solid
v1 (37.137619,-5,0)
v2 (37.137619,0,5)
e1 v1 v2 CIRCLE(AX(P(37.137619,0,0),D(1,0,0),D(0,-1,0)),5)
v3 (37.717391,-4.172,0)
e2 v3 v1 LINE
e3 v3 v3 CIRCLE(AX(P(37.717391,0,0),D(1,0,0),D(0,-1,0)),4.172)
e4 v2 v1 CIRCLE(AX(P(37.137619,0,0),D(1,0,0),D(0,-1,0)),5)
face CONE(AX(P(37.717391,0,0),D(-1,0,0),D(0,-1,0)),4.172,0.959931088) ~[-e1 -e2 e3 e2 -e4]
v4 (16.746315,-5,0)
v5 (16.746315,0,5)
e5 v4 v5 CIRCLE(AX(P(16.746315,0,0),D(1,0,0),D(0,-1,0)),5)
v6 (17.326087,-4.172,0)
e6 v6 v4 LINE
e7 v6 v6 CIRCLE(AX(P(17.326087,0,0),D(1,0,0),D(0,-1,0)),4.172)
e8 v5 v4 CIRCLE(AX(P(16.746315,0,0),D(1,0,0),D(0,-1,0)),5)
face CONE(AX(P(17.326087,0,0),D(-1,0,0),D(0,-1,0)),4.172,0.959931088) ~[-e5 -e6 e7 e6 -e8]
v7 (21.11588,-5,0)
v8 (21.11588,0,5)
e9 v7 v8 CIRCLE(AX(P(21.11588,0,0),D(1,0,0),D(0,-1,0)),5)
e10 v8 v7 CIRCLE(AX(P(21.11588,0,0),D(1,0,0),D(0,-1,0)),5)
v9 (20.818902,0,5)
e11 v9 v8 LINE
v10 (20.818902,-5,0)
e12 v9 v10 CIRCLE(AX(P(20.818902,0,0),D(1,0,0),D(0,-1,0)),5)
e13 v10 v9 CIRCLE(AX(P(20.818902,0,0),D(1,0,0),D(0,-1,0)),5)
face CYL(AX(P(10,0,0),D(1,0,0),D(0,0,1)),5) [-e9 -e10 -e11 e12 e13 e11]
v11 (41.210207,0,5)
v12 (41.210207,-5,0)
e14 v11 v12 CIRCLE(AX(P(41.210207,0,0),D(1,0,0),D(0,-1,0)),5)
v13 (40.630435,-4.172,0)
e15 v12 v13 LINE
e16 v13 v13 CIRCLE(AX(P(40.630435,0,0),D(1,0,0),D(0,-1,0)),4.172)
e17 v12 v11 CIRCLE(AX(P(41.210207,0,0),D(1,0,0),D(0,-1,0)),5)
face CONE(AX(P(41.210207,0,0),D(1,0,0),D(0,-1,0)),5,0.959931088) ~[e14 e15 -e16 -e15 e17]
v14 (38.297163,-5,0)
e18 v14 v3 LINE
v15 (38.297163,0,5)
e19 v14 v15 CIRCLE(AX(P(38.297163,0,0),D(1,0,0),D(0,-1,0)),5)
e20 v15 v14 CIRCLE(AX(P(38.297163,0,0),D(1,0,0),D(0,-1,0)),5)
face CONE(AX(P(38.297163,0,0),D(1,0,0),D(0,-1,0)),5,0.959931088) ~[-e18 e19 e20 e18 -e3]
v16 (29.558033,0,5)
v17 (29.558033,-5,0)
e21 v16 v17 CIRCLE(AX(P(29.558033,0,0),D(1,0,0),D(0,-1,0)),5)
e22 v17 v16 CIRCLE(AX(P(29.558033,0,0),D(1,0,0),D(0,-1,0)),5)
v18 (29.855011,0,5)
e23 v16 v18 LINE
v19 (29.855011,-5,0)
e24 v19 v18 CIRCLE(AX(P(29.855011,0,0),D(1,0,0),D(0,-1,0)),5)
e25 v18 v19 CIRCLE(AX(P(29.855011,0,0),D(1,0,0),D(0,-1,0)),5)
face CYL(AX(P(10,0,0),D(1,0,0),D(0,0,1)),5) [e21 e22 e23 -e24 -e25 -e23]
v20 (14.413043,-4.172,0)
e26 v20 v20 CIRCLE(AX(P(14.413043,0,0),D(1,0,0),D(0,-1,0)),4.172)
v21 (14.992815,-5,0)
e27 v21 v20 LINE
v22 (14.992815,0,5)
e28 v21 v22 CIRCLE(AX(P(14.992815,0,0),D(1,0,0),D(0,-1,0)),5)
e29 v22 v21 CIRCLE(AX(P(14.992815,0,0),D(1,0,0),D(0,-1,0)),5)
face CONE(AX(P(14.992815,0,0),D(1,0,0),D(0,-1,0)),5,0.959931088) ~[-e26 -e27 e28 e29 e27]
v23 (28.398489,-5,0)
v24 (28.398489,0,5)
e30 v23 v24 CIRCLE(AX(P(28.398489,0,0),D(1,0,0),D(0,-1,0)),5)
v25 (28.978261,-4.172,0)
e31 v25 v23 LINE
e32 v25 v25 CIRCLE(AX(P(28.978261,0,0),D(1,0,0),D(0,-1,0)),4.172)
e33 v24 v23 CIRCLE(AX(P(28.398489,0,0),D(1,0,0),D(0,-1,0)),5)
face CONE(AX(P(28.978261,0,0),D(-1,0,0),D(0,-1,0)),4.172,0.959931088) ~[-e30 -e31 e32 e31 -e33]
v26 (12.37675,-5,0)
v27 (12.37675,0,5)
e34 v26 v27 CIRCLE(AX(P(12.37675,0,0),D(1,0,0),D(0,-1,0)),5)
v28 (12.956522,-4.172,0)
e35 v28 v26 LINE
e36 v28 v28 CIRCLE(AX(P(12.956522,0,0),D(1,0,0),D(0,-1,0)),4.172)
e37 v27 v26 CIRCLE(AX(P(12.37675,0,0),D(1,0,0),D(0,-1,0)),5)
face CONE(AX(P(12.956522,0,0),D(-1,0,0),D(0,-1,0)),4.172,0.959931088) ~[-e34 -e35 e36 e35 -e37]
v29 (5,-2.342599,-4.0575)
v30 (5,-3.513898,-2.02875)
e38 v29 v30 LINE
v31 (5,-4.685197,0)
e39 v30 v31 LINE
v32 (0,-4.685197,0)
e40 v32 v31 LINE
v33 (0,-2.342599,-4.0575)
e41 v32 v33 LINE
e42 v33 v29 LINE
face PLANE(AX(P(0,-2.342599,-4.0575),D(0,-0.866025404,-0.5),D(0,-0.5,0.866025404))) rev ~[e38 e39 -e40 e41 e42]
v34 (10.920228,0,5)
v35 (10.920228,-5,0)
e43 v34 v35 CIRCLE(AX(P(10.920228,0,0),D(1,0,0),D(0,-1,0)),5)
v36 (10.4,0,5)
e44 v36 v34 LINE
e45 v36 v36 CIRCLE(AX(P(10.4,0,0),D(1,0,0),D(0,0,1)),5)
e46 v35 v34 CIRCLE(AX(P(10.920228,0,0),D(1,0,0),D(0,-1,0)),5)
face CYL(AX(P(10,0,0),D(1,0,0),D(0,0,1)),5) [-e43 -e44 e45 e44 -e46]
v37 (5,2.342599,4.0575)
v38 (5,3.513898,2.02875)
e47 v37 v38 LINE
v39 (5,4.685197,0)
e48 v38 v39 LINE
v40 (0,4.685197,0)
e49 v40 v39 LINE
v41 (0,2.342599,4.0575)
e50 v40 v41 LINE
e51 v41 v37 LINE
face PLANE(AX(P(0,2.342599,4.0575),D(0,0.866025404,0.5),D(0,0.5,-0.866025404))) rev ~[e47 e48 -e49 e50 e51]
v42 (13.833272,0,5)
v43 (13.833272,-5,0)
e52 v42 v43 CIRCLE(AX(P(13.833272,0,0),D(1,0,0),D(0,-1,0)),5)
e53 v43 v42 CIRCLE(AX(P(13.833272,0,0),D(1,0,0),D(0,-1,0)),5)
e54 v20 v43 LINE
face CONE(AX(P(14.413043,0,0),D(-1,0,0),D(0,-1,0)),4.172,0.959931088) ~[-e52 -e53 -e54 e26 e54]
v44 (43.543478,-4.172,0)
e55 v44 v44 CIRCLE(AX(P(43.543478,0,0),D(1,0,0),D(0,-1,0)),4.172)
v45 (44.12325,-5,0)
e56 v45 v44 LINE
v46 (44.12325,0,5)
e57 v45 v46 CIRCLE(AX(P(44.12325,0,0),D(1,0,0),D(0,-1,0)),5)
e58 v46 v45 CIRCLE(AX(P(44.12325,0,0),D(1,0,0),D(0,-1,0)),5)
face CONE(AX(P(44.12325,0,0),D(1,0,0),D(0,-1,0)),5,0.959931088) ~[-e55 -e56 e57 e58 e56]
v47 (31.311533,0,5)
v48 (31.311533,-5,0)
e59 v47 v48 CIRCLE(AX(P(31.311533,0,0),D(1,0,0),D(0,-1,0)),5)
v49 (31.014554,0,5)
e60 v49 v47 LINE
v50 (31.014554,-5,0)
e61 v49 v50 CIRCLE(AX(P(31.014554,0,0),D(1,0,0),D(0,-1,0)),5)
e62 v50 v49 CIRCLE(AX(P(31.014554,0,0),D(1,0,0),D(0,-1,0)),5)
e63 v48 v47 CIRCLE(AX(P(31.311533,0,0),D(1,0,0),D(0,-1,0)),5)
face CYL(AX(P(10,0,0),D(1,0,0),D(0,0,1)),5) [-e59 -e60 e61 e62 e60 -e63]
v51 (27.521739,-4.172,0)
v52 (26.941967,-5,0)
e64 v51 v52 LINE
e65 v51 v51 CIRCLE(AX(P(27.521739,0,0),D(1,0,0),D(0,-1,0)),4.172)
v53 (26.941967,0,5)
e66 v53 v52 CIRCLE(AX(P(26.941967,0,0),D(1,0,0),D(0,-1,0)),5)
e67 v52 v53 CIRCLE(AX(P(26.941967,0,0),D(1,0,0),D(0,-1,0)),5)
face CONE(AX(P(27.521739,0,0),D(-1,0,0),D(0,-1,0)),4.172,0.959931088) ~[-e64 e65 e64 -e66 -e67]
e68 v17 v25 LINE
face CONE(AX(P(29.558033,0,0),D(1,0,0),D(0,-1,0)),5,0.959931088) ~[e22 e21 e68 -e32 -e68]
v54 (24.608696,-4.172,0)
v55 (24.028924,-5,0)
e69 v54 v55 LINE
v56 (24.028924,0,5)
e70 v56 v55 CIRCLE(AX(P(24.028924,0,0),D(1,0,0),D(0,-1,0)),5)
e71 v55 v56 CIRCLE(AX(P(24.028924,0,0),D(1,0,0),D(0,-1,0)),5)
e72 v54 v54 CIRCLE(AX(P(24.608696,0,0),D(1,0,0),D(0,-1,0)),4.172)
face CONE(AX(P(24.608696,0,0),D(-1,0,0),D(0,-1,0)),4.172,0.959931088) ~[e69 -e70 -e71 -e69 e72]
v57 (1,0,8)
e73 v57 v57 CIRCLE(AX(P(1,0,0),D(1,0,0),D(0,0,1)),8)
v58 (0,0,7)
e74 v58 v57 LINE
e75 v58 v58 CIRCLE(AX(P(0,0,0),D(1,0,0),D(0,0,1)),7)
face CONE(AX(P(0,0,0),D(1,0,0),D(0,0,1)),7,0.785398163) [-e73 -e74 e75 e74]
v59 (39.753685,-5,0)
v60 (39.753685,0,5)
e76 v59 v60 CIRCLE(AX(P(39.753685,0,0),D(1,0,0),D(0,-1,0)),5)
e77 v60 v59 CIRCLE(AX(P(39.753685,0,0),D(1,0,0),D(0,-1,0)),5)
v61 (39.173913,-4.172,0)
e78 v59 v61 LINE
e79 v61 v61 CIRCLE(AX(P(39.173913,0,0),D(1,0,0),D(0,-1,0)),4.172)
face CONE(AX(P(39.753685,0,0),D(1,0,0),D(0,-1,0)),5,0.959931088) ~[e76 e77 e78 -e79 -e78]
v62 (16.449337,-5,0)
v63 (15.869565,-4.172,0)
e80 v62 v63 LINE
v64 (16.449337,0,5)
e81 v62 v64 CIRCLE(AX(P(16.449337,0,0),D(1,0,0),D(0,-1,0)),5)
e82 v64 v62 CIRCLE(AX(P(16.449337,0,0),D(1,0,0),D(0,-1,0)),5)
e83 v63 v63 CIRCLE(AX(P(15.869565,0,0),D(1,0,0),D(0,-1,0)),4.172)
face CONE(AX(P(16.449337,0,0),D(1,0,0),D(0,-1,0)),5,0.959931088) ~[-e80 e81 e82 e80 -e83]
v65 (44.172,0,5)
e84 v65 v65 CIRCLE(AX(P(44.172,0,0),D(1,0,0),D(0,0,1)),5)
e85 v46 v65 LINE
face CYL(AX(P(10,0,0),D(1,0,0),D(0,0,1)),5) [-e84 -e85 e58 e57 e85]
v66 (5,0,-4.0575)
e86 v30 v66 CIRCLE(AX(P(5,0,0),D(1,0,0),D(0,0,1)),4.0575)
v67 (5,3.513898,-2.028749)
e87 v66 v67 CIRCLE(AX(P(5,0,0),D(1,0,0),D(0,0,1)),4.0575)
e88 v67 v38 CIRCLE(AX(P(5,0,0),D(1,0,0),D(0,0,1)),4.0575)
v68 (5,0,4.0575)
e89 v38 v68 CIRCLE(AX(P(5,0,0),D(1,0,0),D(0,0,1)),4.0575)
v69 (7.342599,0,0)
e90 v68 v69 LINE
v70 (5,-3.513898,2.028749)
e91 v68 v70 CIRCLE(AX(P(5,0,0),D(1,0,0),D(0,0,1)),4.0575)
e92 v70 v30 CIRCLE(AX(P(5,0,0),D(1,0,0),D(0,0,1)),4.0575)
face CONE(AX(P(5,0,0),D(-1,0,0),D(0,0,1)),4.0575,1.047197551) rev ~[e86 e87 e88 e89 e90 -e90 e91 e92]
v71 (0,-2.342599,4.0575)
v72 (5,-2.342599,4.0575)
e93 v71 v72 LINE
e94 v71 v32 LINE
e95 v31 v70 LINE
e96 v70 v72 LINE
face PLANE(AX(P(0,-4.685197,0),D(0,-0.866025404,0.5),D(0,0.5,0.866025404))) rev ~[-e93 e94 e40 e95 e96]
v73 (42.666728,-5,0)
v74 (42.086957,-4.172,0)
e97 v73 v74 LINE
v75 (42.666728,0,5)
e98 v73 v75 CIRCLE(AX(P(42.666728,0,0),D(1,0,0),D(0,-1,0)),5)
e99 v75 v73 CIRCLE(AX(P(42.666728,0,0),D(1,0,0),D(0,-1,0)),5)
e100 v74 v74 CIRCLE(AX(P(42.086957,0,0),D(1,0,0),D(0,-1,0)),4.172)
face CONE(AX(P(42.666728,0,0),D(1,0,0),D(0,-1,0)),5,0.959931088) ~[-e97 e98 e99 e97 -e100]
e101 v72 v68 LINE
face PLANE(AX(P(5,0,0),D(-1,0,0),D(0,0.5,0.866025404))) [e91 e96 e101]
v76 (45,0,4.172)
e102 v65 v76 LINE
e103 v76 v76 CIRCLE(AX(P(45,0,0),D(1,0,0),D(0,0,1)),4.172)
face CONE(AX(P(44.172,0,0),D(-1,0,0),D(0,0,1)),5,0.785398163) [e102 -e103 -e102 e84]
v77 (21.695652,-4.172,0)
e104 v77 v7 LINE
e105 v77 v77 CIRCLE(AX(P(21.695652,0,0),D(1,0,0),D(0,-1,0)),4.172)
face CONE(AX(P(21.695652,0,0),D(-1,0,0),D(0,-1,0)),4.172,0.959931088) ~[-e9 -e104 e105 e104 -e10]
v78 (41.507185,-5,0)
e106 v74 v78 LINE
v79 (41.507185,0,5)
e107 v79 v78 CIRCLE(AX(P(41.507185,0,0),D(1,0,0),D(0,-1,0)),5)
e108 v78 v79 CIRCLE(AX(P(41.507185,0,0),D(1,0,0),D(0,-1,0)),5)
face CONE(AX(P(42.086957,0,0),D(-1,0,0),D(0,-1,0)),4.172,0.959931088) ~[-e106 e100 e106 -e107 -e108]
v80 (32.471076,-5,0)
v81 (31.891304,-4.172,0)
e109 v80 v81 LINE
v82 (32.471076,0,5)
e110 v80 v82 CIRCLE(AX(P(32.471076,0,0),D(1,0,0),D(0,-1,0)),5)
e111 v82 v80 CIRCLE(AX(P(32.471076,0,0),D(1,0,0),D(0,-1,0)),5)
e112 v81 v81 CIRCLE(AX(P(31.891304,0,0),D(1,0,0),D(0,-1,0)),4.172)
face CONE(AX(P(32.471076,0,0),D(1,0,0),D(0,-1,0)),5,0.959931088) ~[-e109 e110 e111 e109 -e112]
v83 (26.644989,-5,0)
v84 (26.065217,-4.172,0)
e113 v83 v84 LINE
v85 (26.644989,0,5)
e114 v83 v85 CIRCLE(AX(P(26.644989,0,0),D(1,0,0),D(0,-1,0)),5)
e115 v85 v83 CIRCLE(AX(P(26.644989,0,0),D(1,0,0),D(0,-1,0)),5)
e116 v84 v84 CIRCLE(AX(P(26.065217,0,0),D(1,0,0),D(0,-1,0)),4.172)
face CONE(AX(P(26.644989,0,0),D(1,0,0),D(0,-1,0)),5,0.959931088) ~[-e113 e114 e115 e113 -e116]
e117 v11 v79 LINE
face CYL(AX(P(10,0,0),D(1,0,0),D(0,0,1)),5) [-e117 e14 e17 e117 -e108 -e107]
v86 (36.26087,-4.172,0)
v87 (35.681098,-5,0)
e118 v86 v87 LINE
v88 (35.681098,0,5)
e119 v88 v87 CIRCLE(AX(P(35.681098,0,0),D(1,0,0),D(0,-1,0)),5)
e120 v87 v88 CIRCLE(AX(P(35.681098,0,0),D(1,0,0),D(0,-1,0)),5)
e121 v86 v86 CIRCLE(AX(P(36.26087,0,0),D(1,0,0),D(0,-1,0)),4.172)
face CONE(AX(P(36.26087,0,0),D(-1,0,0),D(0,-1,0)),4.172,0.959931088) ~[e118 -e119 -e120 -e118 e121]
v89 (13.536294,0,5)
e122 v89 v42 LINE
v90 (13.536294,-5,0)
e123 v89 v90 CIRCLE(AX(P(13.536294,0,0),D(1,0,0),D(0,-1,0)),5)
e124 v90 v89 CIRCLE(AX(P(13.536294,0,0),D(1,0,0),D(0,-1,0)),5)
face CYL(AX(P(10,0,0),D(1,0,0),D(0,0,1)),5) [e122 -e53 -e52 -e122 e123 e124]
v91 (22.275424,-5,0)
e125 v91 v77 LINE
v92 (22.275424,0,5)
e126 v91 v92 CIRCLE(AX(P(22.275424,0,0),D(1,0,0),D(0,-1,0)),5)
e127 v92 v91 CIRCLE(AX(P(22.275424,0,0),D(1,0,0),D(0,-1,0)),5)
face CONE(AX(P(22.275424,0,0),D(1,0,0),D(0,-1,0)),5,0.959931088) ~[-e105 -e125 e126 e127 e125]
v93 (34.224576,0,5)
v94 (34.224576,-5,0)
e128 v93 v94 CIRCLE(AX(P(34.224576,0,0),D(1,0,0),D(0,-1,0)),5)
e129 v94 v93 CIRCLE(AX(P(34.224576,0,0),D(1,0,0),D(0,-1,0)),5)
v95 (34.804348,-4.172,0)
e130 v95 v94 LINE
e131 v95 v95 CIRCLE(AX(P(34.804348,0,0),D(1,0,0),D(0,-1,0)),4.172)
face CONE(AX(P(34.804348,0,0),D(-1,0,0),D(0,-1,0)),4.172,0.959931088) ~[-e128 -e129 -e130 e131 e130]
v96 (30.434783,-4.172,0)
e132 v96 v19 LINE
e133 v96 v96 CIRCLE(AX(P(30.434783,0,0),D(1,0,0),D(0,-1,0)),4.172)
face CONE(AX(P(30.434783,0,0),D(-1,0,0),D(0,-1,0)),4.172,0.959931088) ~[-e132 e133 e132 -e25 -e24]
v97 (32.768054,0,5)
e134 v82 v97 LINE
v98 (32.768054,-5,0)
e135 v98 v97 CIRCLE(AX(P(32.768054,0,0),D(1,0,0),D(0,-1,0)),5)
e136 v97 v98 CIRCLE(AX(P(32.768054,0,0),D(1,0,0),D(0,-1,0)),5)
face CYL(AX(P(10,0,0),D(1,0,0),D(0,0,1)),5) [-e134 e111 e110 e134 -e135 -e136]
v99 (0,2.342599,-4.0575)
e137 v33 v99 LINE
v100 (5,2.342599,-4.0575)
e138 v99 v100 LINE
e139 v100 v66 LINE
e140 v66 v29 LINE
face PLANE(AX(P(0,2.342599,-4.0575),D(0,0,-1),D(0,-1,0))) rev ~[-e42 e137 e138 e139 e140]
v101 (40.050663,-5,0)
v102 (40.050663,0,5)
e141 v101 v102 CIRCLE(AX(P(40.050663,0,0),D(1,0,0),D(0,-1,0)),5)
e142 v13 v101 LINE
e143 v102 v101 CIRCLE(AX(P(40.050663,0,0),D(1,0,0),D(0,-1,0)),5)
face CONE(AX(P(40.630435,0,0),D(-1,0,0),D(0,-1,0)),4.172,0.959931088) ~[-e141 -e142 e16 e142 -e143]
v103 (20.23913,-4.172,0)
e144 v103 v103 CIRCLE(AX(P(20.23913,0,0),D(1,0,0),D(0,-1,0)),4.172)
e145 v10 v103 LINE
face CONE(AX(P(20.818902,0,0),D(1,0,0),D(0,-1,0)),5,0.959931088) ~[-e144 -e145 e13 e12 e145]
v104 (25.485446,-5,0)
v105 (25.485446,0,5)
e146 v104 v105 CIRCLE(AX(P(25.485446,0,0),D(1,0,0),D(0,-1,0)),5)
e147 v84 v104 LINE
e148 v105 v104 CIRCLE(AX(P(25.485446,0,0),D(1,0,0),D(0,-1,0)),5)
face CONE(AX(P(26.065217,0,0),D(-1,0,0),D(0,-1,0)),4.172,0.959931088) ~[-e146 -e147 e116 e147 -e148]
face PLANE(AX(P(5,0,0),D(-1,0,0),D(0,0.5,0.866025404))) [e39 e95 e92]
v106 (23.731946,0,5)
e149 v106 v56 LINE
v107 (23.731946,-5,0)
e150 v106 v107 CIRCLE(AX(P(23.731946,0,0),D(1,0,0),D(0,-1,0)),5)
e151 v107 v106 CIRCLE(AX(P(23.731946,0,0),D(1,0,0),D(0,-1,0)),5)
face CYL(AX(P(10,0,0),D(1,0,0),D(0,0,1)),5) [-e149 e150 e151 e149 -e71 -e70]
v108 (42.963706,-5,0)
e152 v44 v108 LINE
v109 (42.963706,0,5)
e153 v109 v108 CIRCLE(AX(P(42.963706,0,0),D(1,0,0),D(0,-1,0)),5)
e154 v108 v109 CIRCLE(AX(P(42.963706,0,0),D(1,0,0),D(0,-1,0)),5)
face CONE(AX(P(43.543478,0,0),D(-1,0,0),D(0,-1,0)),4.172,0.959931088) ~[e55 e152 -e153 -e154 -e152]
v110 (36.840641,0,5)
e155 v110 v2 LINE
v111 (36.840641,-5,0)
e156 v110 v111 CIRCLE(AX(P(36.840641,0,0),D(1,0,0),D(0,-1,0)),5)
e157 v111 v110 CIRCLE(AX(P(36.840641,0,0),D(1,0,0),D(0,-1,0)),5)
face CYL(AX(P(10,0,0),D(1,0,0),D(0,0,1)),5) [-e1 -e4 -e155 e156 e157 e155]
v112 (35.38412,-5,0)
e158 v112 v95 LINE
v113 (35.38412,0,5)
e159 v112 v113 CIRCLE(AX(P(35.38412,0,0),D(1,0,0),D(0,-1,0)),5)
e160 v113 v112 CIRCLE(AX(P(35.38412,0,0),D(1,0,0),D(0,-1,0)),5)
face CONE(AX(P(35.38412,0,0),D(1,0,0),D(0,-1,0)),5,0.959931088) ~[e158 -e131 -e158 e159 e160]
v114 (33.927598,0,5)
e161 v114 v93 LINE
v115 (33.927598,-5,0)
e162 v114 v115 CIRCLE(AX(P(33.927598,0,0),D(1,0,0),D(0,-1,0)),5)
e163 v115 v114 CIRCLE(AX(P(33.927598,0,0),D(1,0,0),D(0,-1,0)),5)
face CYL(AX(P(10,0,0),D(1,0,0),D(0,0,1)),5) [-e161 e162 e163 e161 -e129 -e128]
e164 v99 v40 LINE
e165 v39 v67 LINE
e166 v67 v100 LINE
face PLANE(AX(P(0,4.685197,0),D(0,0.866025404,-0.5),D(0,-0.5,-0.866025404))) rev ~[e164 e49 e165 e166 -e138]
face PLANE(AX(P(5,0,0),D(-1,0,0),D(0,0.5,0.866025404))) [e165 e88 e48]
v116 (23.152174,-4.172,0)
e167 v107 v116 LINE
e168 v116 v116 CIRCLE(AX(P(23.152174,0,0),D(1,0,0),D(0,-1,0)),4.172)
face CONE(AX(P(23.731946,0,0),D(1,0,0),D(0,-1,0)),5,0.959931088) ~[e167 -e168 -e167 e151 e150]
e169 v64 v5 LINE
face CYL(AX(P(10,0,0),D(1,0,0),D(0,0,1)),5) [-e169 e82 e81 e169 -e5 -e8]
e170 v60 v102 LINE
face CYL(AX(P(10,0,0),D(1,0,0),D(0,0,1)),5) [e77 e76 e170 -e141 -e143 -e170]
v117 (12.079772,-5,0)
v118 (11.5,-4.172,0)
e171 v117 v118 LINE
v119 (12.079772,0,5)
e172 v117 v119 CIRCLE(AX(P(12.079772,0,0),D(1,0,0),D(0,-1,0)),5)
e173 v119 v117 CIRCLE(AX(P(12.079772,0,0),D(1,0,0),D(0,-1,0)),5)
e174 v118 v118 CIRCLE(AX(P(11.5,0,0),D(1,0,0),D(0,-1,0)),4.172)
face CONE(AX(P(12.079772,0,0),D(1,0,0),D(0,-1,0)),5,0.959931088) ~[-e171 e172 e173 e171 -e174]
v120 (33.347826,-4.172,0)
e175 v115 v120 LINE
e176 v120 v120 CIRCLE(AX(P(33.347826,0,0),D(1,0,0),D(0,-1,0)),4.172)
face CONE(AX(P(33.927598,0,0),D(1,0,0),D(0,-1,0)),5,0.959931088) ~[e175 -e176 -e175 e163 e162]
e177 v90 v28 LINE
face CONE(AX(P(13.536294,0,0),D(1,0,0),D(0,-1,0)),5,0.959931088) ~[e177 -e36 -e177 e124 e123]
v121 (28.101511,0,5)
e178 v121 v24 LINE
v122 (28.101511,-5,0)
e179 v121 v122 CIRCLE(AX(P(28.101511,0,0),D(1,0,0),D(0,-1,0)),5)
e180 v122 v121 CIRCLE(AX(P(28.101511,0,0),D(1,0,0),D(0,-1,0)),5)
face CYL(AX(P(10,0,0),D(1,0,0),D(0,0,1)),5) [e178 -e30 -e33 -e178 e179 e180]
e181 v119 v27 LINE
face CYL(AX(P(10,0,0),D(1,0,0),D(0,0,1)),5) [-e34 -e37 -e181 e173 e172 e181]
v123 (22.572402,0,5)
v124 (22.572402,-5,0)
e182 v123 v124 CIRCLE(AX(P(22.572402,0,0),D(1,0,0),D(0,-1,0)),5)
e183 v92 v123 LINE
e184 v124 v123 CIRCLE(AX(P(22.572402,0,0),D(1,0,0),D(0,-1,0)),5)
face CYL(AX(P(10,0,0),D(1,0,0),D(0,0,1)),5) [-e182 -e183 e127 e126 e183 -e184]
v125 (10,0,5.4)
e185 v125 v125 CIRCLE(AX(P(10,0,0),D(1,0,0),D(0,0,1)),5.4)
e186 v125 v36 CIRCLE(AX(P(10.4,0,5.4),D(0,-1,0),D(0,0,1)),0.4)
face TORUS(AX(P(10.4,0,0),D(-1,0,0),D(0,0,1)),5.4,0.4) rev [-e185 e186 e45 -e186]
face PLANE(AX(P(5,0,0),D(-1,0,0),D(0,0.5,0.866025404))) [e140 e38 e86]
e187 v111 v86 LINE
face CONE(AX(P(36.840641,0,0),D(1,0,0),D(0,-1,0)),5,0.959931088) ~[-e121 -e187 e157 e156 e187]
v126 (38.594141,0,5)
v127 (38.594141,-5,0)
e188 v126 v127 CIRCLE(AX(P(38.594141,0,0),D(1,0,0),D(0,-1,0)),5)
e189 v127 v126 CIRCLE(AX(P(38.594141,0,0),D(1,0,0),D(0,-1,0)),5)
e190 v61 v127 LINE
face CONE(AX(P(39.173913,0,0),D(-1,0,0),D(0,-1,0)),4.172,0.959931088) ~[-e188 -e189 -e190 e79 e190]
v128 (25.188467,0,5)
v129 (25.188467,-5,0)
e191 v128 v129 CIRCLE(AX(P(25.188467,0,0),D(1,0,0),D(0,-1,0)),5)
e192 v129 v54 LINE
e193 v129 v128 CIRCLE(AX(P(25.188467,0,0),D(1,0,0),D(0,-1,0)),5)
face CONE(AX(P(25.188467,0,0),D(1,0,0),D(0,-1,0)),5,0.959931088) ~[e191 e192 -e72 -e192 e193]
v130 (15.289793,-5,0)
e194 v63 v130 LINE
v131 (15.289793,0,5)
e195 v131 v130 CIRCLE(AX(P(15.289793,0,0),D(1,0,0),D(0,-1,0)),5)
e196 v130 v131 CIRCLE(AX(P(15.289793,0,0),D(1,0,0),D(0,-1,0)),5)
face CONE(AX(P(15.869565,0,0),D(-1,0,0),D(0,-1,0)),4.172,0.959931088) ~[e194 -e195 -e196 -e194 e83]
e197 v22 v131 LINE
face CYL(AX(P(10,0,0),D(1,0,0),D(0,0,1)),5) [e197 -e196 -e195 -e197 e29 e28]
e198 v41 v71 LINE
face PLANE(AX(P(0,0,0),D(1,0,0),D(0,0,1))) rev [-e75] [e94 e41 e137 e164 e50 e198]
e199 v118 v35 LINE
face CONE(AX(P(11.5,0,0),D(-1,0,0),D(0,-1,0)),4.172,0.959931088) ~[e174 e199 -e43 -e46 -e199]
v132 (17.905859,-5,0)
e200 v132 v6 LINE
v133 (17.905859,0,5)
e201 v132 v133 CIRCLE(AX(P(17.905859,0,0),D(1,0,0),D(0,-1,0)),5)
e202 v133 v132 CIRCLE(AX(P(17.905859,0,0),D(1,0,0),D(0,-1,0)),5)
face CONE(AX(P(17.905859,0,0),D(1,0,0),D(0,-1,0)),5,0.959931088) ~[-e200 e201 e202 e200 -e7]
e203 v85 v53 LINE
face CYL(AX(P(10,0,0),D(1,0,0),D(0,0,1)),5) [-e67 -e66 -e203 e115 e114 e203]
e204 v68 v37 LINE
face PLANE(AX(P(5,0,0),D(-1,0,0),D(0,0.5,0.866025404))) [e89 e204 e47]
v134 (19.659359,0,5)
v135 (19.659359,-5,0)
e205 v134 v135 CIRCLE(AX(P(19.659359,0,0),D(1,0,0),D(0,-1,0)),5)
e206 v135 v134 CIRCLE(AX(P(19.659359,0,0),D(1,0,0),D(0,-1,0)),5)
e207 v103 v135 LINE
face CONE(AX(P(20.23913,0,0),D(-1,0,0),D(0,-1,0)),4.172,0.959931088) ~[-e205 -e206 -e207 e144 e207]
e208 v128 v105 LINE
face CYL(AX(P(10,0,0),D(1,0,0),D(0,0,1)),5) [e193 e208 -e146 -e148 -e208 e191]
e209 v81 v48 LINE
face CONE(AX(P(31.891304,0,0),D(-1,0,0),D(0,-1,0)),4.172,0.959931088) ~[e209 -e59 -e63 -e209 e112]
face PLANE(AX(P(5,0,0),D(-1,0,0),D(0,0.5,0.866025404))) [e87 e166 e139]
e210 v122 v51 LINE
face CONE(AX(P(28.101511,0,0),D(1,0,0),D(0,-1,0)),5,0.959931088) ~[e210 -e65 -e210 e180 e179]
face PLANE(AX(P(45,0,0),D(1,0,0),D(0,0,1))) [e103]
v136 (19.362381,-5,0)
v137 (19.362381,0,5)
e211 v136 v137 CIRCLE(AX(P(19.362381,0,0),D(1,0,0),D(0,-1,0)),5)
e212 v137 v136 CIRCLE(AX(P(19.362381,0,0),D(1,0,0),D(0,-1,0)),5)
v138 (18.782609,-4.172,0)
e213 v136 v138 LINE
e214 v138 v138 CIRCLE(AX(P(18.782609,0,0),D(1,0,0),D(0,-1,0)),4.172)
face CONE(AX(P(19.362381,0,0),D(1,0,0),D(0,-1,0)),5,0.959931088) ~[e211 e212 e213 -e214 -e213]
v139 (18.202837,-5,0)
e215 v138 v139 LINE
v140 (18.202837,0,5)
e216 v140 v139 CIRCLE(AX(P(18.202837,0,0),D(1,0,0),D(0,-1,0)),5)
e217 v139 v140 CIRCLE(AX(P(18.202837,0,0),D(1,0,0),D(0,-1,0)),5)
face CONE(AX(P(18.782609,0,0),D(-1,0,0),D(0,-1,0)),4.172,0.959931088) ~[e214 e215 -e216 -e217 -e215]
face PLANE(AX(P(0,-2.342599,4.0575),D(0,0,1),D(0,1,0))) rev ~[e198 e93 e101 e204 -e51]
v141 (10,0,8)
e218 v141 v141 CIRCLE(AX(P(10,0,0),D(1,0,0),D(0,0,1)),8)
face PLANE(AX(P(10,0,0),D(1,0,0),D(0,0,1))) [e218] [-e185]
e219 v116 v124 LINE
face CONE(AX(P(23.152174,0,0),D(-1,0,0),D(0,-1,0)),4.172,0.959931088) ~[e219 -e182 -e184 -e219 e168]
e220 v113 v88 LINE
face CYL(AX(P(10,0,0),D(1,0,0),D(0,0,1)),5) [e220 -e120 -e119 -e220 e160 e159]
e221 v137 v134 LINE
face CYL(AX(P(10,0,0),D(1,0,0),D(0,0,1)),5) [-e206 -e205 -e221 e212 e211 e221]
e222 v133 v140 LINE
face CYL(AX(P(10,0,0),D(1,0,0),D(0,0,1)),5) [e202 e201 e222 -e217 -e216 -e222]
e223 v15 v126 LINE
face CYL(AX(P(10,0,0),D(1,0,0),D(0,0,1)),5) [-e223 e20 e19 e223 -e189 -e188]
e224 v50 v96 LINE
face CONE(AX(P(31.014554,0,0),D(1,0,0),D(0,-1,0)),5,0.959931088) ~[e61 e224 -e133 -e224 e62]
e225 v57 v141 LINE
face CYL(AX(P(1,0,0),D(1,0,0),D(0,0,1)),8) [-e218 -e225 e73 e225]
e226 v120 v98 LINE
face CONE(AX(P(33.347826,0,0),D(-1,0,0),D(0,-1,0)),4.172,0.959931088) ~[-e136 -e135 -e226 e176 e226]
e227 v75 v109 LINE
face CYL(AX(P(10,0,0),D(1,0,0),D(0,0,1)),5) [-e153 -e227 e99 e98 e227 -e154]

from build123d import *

# Parameters (mm, degrees)
FILLET1_R       = 0.4
HEX_2_DEPTH     = 5
THDSCHPAT_COUNT = 23
THDSCHPAT_PITCH = 1.456521739


with BuildPart() as part:
    # BodySke → Base-Revolve (revolve)
    with BuildSketch(Plane.XY, mode=Mode.PRIVATE) as base_revolve_sk:
        Polygon((0, 0), (0, 7), (1, 8), (10, 8), (10, 5), (44.172, 5), (45, 4.172), (45, 0), align=None)
    revolve(base_revolve_sk.sketch.rotate(Axis((-31.75, 0, 0), (1, 0, 0)), 90), axis=Axis((-31.75, 0, 0), (1, 0, 0)))

    # Fillet1
    fillet1_edges = [part.edges().sort_by_distance(p)[0] for p in [
        (10, 0, -5),
    ]]
    fillet(fillet1_edges, radius=FILLET1_R)

    # Sketch2 → Hex-PreBroach (revolve, cut)
    with BuildSketch(Plane.XY, mode=Mode.PRIVATE) as hex_prebroach_sk:
        Polygon((0, 4.0575), (5, 4.0575), (7.342598717, 0), (0, 0), align=None)
    revolve(hex_prebroach_sk.sketch.rotate(Axis((0, 0, 0), (1, 0, 0)), 90), axis=Axis((0, 0, 0), (1, 0, 0)), mode=Mode.SUBTRACT)

    # Sketch3 → Hex 2 (cut)
    with BuildSketch(Plane(origin=(0, 0, 0), x_dir=(0, 0.500000000000001, 0.866025403784438), z_dir=(-1, 0, 0))):
        Polygon((2.342598717, 4.0575), (-2.342598717, 4.0575), (-4.685197434, 0), (-2.342598717, -4.0575), (2.342598717, -4.0575), (4.685197434, 0), align=None)
    extrude(amount=-HEX_2_DEPTH, mode=Mode.SUBTRACT)

    # ThdSchSke → ThreadSchematic (revolve, cut)
    with BuildSketch(Plane.XY):
        Polygon((11.5, -4.172), (10.920228158, -5), (10.920228158, -6.25), (12.079771842, -6.25), (12.079771842, -5), align=None)
    threadschematic = revolve(axis=Axis((-3.175, 0, 0), (1, 0, 0)), mode=Mode.SUBTRACT)

    # ThdSchPat: ThreadSchematic ×23
    with Locations(*[(i * THDSCHPAT_PITCH, 0, 0) for i in range(1, THDSCHPAT_COUNT)]):
        add(threadschematic, mode=Mode.SUBTRACT)


solid = part.part
